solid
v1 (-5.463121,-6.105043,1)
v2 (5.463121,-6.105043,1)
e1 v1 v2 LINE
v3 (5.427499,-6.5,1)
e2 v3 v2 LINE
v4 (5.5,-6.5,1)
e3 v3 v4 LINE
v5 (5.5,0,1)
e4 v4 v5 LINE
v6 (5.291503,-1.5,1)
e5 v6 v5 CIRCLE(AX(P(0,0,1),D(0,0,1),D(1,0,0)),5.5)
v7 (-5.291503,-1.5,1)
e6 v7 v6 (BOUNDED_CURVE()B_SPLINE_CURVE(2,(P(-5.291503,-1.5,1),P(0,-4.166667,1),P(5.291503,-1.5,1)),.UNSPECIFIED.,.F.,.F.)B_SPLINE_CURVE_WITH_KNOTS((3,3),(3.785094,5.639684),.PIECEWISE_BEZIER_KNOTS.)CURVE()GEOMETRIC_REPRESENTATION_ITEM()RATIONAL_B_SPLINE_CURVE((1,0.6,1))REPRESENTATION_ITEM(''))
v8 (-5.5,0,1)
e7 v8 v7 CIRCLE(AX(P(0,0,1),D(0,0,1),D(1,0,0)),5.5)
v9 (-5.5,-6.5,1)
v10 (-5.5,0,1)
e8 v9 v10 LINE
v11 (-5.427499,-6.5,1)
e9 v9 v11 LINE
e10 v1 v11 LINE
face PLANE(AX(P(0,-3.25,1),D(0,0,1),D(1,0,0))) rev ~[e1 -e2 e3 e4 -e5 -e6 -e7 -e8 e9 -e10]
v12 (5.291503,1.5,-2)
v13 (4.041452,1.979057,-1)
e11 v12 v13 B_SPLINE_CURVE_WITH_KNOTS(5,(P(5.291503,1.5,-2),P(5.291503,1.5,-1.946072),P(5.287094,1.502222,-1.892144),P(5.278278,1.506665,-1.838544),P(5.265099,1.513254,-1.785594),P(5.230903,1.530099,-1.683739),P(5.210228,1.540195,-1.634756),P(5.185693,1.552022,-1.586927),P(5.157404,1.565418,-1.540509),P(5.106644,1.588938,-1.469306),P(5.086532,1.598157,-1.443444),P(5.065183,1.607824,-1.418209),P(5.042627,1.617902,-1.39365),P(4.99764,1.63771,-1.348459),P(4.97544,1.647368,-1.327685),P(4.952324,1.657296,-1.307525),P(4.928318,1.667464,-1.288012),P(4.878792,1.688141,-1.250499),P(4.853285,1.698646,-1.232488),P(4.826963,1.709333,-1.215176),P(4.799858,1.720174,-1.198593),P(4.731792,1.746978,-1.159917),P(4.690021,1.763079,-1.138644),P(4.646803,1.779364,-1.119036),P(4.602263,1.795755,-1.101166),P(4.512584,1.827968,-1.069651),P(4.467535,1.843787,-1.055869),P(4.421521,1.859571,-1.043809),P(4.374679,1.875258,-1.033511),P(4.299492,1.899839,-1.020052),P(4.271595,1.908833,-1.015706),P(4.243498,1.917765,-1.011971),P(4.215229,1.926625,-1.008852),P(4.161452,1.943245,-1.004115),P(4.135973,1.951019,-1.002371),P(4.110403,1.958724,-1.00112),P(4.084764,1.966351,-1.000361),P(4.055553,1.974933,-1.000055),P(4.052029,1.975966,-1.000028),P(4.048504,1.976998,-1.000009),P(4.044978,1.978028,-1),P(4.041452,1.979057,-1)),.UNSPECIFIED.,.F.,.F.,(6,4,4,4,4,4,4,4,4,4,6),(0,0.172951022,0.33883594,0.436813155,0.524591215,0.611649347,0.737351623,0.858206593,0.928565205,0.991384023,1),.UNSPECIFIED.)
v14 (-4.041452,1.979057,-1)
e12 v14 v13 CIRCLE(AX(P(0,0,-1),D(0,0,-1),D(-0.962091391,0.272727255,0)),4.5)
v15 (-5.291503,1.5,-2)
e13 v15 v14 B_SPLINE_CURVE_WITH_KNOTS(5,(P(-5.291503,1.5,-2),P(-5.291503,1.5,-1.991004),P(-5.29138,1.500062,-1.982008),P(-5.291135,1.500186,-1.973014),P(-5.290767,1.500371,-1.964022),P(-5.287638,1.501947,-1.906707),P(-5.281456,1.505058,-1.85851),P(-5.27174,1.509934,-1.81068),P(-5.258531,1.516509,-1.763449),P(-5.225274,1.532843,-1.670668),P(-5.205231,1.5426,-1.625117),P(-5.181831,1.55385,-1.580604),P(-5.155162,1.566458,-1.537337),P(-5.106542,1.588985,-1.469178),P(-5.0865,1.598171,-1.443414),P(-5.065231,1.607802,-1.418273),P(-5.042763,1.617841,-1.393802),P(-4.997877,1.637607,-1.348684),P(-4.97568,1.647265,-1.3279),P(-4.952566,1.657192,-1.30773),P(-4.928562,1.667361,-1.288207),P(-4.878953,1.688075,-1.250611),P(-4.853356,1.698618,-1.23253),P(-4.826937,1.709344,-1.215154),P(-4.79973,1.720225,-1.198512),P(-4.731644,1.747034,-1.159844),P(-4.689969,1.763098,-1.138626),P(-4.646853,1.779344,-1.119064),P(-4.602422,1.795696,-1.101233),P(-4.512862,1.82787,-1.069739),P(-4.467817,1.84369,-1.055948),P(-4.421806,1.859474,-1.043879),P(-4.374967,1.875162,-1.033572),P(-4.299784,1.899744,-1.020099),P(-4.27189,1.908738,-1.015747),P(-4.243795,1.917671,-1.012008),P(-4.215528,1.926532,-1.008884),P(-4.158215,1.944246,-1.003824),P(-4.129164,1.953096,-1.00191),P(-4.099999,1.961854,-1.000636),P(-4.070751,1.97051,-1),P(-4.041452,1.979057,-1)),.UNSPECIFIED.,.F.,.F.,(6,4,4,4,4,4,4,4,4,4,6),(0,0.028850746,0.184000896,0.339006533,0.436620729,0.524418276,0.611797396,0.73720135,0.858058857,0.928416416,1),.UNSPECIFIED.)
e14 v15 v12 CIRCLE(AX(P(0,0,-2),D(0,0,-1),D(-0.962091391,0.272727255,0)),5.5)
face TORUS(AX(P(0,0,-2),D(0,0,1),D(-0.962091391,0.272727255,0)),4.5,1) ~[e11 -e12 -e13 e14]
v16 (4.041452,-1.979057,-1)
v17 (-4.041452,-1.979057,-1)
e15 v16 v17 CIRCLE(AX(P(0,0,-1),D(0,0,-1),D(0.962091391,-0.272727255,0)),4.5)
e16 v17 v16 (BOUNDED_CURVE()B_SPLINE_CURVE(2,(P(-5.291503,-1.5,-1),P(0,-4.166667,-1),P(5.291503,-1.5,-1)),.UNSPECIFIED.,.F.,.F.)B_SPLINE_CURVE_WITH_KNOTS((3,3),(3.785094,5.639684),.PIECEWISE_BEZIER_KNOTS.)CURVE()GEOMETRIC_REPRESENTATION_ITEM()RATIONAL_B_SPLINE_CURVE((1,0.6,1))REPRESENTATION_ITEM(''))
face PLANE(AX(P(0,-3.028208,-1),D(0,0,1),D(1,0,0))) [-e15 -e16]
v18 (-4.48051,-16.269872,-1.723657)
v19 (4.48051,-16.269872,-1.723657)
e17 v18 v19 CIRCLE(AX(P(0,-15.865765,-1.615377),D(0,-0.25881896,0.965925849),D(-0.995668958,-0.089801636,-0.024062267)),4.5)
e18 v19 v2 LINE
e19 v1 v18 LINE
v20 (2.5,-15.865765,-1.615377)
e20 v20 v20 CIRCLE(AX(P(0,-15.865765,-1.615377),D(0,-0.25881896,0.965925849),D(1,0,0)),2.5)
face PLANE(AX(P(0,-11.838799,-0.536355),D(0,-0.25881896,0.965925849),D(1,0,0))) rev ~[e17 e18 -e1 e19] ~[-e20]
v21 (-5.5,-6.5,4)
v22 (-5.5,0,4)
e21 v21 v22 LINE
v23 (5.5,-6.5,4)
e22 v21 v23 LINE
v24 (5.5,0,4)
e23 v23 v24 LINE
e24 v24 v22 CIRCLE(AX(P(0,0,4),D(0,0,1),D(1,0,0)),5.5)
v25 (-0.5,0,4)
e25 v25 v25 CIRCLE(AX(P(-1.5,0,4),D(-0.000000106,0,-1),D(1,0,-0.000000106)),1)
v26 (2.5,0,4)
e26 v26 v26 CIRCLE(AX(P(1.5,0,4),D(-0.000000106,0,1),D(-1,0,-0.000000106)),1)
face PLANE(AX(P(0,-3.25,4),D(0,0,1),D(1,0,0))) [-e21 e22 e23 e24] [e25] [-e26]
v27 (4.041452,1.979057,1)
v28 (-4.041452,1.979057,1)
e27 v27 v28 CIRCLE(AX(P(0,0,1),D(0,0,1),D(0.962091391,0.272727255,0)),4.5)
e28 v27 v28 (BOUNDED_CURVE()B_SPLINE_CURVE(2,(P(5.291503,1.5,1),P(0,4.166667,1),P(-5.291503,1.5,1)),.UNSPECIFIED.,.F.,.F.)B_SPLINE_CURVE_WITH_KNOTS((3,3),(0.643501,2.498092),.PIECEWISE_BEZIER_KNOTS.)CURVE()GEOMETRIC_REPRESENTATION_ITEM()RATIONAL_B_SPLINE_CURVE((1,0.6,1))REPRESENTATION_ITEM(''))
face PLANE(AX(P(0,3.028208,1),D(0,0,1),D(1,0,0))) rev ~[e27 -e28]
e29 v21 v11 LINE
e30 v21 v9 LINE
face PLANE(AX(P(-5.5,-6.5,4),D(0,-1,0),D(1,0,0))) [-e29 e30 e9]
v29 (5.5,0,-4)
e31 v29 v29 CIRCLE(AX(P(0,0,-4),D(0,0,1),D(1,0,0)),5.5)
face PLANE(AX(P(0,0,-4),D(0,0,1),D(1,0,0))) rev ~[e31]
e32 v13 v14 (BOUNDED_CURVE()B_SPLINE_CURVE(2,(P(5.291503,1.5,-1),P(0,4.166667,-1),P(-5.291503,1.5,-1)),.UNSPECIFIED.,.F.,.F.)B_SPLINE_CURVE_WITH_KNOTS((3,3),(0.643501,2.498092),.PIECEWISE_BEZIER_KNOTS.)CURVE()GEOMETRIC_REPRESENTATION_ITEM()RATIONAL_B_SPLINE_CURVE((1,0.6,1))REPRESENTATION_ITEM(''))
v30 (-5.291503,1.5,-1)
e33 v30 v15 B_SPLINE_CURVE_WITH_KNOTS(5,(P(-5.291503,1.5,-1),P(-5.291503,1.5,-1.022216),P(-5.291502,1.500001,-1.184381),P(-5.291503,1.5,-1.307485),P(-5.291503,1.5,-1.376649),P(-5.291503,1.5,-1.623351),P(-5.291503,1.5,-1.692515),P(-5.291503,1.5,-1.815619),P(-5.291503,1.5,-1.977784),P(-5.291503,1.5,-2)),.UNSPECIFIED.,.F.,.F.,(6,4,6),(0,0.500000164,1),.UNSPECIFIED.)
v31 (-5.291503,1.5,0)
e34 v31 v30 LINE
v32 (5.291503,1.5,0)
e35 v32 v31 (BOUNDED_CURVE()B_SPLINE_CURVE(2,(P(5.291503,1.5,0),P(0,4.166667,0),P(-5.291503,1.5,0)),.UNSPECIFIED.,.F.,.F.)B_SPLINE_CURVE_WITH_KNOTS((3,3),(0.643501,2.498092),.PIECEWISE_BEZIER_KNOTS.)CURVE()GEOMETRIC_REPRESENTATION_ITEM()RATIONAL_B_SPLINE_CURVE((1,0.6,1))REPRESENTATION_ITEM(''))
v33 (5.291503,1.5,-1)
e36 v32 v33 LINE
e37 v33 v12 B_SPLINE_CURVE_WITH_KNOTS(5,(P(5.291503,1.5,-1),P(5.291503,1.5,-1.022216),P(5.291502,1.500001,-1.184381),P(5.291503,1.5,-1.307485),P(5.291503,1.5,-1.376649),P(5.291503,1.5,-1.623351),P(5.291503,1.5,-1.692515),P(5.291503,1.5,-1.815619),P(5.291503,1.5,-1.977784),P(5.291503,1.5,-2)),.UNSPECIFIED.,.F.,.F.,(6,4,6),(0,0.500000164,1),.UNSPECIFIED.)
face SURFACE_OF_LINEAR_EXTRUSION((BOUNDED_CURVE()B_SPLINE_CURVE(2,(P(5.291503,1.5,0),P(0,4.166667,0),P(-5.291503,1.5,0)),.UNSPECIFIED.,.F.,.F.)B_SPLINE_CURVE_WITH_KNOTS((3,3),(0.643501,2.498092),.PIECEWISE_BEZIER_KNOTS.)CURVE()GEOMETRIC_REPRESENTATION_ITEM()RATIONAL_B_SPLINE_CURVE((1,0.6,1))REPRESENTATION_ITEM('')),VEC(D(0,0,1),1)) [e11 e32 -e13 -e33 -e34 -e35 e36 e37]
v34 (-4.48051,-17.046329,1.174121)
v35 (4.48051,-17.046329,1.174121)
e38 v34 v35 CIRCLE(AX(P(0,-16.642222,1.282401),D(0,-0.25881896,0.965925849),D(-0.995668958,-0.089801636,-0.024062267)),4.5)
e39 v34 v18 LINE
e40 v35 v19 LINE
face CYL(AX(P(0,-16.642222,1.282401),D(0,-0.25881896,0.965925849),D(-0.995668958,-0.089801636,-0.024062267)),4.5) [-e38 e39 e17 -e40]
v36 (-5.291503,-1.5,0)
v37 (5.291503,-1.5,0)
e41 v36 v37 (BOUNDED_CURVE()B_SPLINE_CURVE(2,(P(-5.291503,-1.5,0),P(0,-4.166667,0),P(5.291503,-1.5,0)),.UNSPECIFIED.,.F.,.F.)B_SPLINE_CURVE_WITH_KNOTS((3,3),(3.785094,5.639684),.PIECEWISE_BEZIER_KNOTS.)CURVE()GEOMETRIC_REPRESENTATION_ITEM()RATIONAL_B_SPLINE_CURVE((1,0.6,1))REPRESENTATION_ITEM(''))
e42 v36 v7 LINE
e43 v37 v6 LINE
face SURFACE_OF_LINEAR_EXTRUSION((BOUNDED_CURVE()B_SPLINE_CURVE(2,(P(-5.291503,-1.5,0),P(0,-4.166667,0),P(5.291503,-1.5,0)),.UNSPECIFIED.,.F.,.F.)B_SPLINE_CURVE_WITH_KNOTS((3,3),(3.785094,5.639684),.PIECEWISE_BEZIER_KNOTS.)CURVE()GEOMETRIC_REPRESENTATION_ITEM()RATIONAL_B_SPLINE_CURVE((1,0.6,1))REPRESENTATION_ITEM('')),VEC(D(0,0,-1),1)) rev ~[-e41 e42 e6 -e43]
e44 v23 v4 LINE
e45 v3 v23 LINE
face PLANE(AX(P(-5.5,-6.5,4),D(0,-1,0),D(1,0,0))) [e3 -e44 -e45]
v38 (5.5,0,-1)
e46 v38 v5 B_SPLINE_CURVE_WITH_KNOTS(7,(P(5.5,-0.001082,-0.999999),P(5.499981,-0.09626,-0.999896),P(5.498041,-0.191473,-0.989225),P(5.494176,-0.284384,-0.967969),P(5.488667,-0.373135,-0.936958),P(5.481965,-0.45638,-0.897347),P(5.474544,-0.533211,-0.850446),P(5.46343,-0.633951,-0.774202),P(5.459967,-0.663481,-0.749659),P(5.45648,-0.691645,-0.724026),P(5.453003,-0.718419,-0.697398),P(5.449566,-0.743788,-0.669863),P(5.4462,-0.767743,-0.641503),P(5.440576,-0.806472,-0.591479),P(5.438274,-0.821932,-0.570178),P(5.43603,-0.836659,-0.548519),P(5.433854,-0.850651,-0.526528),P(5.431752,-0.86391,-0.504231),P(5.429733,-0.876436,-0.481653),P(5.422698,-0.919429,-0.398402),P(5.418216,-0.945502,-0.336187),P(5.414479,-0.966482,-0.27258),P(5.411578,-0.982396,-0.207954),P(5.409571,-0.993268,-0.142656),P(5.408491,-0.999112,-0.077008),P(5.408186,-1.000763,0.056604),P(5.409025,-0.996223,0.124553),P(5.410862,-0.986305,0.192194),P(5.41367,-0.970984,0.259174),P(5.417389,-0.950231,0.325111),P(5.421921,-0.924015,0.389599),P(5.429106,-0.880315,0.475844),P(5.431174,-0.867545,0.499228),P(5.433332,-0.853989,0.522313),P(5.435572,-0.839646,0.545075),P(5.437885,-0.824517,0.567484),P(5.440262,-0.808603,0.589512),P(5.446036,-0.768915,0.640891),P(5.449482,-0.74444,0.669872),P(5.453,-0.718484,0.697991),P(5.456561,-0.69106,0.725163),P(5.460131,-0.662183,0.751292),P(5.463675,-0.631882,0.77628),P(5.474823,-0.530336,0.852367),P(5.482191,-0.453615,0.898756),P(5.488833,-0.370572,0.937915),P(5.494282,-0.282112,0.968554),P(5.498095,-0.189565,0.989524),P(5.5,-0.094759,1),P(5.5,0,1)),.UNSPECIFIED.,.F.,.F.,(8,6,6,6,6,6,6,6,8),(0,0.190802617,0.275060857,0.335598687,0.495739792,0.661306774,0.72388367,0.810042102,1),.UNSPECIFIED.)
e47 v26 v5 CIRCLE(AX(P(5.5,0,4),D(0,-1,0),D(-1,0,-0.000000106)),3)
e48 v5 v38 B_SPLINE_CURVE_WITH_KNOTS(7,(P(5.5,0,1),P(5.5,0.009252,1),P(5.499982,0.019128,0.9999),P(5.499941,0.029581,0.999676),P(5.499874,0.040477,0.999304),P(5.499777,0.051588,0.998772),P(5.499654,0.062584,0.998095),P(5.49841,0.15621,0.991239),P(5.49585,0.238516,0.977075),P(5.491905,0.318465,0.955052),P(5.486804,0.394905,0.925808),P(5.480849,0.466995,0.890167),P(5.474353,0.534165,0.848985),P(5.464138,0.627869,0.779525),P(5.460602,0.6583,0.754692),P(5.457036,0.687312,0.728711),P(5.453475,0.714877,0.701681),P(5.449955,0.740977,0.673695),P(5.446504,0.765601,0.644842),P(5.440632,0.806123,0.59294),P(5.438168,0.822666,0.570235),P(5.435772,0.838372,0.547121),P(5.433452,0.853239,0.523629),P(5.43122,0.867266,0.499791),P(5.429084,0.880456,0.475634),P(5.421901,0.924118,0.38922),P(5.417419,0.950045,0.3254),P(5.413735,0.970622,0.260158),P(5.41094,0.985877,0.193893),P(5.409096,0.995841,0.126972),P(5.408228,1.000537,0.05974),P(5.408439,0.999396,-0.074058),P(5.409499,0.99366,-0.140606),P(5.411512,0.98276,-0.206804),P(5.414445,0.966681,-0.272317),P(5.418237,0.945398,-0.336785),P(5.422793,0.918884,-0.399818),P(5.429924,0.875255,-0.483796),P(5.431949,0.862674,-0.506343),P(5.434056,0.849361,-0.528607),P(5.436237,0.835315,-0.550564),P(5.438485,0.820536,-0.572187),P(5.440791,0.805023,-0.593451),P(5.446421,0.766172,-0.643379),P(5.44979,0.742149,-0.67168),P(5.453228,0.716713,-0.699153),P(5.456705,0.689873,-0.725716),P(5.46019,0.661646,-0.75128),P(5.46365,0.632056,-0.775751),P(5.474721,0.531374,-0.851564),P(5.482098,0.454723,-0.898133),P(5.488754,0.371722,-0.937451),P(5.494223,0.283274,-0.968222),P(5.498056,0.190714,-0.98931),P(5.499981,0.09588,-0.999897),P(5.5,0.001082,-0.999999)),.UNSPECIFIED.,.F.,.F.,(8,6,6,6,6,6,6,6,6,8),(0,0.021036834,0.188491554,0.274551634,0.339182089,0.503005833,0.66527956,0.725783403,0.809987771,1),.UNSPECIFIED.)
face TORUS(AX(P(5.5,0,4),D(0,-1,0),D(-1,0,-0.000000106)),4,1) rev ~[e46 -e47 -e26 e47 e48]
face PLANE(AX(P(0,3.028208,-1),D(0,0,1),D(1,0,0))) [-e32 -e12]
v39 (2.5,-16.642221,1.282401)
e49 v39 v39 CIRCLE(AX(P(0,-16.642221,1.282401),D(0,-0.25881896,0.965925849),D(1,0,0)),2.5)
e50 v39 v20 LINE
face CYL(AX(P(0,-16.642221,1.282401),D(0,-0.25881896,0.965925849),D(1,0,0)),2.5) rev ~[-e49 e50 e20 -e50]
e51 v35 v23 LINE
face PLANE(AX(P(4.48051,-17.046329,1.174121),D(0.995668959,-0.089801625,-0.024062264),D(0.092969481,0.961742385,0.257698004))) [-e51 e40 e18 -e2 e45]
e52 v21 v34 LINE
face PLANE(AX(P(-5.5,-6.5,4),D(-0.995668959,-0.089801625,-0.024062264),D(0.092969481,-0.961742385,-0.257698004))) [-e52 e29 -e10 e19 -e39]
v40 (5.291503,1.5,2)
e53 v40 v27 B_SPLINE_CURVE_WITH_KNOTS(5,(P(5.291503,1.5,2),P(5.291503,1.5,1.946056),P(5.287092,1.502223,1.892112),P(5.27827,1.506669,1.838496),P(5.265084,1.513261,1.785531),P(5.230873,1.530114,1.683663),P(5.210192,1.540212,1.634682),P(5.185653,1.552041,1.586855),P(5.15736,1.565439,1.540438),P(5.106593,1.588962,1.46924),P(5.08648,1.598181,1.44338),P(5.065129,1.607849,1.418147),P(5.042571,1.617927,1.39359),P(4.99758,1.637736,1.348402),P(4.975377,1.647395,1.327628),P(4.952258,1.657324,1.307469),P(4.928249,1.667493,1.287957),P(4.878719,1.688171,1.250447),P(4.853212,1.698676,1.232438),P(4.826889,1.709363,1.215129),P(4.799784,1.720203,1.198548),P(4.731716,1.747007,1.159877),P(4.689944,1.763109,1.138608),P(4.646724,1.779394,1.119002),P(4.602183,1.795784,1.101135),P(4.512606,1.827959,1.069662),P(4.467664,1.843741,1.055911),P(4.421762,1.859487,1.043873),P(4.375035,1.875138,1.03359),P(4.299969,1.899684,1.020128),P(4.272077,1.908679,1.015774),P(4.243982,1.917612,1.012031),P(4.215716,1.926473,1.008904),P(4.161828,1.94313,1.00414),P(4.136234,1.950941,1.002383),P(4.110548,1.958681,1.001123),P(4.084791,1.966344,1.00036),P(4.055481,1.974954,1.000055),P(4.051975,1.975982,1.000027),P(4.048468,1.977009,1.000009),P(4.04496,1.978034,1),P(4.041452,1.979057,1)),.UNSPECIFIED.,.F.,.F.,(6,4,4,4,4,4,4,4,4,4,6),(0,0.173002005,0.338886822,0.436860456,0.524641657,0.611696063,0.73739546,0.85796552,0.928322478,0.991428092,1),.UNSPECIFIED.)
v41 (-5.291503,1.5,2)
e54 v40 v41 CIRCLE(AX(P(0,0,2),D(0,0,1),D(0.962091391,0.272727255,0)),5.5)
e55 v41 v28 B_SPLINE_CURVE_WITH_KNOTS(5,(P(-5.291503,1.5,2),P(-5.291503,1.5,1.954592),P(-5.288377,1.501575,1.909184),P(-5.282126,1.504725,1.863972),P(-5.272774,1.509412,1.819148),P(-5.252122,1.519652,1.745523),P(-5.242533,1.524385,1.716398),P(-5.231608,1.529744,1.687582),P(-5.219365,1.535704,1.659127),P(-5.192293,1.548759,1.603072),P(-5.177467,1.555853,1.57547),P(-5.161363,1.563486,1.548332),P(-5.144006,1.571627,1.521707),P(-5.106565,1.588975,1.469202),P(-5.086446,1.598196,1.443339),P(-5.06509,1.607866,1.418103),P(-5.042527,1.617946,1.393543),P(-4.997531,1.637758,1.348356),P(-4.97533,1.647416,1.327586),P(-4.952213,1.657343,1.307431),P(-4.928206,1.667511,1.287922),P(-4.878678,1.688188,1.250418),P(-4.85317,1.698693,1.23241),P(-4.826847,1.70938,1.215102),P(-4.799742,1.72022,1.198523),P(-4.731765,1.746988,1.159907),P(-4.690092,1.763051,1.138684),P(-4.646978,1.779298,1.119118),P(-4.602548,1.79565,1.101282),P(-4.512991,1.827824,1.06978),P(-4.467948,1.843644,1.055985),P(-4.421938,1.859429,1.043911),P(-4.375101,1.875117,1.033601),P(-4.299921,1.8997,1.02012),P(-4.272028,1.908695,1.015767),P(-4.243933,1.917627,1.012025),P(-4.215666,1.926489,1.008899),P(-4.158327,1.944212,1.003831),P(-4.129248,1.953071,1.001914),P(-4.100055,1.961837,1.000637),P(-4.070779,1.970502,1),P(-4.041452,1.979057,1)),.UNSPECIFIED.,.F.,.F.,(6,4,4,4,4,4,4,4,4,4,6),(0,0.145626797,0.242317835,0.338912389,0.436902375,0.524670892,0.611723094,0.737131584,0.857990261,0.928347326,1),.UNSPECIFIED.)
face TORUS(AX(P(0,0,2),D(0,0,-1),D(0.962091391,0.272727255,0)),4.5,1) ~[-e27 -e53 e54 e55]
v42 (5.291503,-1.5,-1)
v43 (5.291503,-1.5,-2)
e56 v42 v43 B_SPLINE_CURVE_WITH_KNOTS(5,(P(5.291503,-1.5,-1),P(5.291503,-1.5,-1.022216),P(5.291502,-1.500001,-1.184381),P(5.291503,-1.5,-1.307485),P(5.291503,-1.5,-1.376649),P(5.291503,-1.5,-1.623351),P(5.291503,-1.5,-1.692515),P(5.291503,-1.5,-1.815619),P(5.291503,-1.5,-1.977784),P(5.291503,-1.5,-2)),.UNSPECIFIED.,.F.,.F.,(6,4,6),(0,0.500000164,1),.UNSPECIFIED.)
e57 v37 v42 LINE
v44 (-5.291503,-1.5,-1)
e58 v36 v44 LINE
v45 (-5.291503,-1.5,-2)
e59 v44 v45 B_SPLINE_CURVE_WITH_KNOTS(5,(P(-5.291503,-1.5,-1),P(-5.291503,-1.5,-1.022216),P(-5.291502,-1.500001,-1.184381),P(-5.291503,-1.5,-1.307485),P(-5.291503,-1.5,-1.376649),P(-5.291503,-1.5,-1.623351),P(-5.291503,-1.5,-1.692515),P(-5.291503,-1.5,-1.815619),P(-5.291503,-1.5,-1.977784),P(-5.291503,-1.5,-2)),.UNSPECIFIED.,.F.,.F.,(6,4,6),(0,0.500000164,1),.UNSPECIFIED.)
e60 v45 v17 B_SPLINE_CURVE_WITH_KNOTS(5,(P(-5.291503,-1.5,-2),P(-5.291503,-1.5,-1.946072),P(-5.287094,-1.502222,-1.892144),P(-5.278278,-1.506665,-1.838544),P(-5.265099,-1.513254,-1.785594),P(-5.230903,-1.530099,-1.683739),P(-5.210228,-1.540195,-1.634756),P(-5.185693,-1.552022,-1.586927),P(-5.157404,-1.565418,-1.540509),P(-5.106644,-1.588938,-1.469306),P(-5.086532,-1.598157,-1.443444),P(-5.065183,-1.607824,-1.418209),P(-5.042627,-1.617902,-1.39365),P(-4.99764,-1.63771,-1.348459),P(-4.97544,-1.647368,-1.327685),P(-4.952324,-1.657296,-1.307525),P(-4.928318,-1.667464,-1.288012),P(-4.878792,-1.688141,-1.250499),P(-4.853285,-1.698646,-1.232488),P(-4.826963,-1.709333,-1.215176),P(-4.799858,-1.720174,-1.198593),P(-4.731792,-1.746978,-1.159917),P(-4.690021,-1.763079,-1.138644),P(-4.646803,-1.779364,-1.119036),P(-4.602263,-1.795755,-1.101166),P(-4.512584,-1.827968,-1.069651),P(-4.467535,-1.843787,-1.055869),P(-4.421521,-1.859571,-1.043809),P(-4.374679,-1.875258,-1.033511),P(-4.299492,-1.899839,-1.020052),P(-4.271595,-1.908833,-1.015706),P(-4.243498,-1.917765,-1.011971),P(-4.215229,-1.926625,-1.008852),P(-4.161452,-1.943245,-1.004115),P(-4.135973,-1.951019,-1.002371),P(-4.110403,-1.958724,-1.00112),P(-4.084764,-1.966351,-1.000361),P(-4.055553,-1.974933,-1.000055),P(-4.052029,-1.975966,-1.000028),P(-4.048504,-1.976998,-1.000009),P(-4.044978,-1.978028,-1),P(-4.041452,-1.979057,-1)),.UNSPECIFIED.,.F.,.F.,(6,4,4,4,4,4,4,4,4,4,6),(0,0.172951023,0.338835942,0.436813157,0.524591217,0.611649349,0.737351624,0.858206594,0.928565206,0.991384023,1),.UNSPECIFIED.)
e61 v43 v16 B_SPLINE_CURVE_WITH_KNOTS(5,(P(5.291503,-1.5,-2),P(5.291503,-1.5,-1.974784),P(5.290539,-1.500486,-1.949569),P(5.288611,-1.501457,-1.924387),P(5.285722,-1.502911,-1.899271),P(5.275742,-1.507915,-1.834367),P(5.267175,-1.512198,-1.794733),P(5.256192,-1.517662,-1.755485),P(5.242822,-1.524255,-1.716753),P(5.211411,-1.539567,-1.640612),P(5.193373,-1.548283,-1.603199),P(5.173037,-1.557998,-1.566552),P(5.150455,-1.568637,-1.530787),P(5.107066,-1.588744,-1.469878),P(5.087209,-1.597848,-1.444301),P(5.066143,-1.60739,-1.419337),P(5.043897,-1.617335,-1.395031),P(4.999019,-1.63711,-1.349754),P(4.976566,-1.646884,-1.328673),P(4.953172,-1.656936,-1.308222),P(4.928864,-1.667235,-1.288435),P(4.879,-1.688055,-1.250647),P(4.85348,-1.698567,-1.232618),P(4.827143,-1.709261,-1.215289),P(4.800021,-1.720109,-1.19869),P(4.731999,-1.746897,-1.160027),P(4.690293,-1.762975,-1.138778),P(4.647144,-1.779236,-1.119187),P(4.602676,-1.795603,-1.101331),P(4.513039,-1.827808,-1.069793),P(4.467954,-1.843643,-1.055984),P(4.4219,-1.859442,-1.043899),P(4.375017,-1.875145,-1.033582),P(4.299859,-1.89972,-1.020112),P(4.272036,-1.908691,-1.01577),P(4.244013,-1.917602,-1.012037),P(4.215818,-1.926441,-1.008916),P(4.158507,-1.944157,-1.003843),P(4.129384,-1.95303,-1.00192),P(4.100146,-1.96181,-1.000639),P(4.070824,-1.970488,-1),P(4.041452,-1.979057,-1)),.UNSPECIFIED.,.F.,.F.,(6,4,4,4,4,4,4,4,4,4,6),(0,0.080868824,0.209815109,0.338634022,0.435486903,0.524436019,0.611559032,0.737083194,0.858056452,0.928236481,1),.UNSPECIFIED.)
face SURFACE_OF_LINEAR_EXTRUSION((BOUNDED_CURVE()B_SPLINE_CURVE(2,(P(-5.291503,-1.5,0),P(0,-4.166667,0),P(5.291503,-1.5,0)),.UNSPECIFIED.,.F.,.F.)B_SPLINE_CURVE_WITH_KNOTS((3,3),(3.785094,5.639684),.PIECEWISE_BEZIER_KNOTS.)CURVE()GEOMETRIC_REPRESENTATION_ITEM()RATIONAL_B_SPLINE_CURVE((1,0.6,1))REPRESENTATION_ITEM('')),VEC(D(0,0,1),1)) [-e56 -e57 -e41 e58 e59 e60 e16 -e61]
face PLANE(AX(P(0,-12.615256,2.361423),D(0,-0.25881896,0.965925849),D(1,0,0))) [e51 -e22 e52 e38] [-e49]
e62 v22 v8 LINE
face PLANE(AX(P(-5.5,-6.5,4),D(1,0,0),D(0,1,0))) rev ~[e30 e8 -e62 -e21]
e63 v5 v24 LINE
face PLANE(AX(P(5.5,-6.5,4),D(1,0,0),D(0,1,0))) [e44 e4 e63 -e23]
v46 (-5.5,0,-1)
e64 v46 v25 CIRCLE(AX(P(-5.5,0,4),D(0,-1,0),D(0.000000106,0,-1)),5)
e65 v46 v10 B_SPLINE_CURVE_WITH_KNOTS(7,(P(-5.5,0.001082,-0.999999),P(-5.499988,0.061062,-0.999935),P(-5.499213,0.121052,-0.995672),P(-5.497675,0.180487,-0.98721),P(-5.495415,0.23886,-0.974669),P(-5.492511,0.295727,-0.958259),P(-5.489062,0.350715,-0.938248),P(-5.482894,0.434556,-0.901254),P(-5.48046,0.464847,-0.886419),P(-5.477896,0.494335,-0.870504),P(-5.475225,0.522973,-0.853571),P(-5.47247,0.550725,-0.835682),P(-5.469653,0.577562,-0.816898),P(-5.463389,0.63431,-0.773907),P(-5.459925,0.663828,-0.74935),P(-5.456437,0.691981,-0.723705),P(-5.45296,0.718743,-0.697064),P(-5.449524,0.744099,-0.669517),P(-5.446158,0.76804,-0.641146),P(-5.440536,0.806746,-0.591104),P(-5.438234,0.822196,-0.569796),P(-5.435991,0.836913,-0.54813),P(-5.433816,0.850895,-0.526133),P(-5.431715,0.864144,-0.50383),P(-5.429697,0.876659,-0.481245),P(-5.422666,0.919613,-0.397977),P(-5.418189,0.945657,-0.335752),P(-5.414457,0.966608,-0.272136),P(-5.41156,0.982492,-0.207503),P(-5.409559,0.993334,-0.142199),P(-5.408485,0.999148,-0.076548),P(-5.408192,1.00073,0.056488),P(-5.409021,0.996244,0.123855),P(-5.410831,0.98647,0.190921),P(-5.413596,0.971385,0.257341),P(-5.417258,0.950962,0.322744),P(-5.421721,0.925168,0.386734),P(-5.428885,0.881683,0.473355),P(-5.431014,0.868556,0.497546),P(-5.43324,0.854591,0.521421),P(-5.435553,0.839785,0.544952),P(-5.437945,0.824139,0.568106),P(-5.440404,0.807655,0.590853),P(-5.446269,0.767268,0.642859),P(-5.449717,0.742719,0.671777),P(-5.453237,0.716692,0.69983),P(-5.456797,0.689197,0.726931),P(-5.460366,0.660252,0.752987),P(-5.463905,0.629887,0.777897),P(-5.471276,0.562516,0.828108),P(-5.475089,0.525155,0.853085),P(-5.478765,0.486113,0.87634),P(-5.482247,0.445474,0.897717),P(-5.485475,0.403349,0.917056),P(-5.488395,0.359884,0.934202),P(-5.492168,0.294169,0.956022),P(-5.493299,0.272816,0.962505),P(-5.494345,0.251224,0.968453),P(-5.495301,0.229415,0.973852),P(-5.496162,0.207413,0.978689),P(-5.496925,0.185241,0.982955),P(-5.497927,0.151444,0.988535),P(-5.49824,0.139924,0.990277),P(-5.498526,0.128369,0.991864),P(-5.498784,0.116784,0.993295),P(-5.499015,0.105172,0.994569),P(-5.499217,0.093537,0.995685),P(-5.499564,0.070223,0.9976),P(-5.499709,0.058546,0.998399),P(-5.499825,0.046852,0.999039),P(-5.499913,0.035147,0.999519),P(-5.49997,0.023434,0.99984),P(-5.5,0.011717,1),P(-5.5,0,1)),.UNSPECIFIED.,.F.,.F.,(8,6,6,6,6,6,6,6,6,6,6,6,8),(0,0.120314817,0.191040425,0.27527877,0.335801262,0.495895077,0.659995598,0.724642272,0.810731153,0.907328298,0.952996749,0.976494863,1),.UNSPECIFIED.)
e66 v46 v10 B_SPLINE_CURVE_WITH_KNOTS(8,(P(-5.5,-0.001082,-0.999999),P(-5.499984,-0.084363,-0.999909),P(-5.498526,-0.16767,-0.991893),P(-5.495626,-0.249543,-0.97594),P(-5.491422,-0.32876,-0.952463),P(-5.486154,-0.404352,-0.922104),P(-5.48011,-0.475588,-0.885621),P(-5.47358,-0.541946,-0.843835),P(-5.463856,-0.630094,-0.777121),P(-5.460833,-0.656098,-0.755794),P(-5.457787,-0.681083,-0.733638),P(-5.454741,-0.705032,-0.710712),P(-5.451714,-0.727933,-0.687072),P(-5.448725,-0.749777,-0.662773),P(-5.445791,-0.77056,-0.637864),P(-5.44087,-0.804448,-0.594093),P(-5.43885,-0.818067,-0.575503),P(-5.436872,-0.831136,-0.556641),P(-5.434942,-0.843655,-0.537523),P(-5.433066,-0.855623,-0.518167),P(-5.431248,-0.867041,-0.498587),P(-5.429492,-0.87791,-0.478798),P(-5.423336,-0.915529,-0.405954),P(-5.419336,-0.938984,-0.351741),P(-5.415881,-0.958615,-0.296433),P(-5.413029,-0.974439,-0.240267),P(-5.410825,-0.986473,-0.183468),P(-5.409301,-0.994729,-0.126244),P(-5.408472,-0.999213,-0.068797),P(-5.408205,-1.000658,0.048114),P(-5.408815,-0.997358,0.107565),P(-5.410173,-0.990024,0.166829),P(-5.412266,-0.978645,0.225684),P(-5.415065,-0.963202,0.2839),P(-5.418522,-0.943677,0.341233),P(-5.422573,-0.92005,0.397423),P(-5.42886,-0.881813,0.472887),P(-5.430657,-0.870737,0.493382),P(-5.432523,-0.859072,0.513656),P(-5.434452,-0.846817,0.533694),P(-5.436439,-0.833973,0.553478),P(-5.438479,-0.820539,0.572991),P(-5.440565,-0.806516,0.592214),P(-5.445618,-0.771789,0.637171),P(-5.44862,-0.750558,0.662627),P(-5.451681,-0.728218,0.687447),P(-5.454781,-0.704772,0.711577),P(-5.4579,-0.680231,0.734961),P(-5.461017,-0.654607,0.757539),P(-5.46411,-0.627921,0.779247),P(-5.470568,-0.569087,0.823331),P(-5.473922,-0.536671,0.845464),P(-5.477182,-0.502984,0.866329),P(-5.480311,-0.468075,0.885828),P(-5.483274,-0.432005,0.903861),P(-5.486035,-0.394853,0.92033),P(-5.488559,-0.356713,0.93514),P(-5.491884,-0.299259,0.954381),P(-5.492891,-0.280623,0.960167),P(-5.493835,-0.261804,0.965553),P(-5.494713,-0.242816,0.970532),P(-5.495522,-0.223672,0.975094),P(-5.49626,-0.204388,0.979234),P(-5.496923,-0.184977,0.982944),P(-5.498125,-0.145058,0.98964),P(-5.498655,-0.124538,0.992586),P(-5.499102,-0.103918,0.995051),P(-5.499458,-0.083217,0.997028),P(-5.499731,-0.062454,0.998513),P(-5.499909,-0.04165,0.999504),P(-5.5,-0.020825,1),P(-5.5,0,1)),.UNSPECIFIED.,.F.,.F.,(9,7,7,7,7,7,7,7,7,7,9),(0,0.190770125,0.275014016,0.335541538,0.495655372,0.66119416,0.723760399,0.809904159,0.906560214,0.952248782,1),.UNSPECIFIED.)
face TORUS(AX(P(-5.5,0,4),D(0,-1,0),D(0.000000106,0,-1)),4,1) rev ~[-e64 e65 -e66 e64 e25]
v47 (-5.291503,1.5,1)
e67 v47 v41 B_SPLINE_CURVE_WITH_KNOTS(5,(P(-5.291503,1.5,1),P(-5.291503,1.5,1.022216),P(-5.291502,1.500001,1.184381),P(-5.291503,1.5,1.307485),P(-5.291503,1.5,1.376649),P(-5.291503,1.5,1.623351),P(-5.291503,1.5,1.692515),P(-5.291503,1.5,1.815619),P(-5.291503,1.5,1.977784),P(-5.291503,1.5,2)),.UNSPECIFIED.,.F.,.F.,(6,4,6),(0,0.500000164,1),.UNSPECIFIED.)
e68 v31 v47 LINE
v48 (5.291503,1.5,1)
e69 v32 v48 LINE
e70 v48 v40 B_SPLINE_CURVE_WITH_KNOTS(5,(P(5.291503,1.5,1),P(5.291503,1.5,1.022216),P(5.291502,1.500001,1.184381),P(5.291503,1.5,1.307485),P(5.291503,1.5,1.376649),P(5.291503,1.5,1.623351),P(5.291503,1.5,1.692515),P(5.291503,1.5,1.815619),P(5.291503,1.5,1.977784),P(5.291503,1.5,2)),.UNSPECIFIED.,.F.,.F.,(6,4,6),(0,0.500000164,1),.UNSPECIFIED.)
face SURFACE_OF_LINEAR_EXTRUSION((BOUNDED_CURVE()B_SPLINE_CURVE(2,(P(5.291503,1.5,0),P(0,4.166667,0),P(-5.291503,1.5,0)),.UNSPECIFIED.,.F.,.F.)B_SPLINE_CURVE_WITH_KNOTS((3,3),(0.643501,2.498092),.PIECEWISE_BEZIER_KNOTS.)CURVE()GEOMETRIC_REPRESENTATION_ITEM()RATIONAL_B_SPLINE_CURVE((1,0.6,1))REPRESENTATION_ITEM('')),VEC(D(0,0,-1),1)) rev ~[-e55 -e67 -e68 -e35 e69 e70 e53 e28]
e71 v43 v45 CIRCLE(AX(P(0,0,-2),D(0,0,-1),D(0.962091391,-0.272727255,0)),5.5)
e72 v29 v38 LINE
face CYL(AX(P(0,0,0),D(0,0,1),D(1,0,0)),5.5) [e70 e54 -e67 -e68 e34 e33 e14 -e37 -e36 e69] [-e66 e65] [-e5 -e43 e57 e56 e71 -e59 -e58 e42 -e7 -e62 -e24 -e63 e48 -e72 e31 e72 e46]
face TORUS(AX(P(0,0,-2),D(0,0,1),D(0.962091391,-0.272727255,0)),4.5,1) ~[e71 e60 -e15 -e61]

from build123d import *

# Parameters (mm, degrees)
SKETCH_R            = 5.5
PAD_DEPTH           = 4
POCKET_DEPTH        = 1
SKETCH006_W         = 11
SKETCH006_H         = 6.5
PAD001_DEPTH        = 3
PAD002_DEPTH        = 3
SKETCH004_R         = 1
MIRROREDSKETCH003_R = 1
SKETCH008_R         = 2.5
POCKET001_DEPTH     = 3
FILLET_R            = 1


with BuildPart() as part:
    # Sketch → Pad (new body, symmetric)
    with BuildSketch(Plane.XY):
        Circle(SKETCH_R)
    extrude(amount=PAD_DEPTH, both=True)

    # Sketch002 → Pocket (cut, symmetric)
    with BuildSketch(Plane.XY):
        with BuildLine():
            ThreePointArc((-5.291503, -1.5), (0, -5.5), (5.291503, -1.5))
            add(Edge.make_bspline(
                [(-5.291503, -1.5), (0, -4.166667), (5.291503, -1.5)],
                knots=[3.785094, 3.785094, 3.785094, 5.639684, 5.639684, 5.639684], degree=2, weights=[1, 0.6, 1]))
        make_face()
        with BuildLine():
            ThreePointArc((5.291503, 1.5), (0, 5.5), (-5.291503, 1.5))
            add(Edge.make_bspline(
                [(5.291503, 1.5), (0, 4.166667), (-5.291503, 1.5)],
                knots=[0.643501, 0.643501, 0.643501, 2.498092, 2.498092, 2.498092], degree=2, weights=[1, 0.6, 1]))
        make_face()
    extrude(amount=POCKET_DEPTH, both=True, mode=Mode.SUBTRACT)

    # Sketch006 (on DatumPlane) → Pad001 (join)
    with BuildSketch(Plane.XY.offset(4)):
        with Locations((0, -3.25)):
            Rectangle(SKETCH006_W, SKETCH006_H)
    extrude(amount=-PAD001_DEPTH)

    # Sketch007 (on DatumPlane) → Pad002 (join)
    with BuildSketch(Plane(origin=(0, -6.5, 4), x_dir=(1, 0, 0), z_dir=(0, -0.258819, 0.965926))):
        with BuildLine():
            Line((-5.5, 0), (-4.48051, -10.918363))
            ThreePointArc((-4.48051, -10.918363), (0, -15), (4.48051, -10.918363))
            Line((4.48051, -10.918363), (5.5, 0))
            Line((5.5, 0), (-5.5, 0))
        make_face()
    extrude(amount=-PAD002_DEPTH)

    # SubtractivePipe: sweep along a path in MirroredSketch002
    with BuildLine(Plane.XZ) as subtractivepipe_path:
        ThreePointArc((-5.5, 0), (-2.671573, 1.171573), (-1.5, 4))
    # Sketch004 (on DatumPlane) → SubtractivePipe (sweep, cut)
    with BuildSketch(Plane.XY.offset(4)):
        with Locations((-1.5, 0)):
            Circle(SKETCH004_R)
    sweep(path=subtractivepipe_path.line, mode=Mode.SUBTRACT)

    # SubtractivePipe001: sweep along a path in Sketch003
    with BuildLine(Plane.XZ) as subtractivepipe001_path:
        ThreePointArc((1.5, 4), (2.671573, 1.171573), (5.5, 0))
    # MirroredSketch003 → SubtractivePipe001 (sweep, cut)
    with BuildSketch(Plane.XY.offset(4)):
        with Locations((1.5, 0)):
            Circle(MIRROREDSKETCH003_R)
    sweep(path=subtractivepipe001_path.line, mode=Mode.SUBTRACT)

    # Sketch008 (on DatumPlane) → Pocket001 (cut)
    with BuildSketch(Plane(origin=(0, -6.5, 4), x_dir=(1, 0, 0), z_dir=(0, -0.258819, 0.965926))):
        with Locations((0, -10.5)):
            Circle(SKETCH008_R)
    extrude(amount=-POCKET001_DEPTH, mode=Mode.SUBTRACT)

    # Fillet
    fillet_edges = [part.edges().sort_by_distance(p)[0] for p in [
        (0, 5.5, -1),
        (0, 5.5, 1),
        (0, -5.5, -1),
    ]]
    fillet(fillet_edges, radius=FILLET_R)


solid = part.part
